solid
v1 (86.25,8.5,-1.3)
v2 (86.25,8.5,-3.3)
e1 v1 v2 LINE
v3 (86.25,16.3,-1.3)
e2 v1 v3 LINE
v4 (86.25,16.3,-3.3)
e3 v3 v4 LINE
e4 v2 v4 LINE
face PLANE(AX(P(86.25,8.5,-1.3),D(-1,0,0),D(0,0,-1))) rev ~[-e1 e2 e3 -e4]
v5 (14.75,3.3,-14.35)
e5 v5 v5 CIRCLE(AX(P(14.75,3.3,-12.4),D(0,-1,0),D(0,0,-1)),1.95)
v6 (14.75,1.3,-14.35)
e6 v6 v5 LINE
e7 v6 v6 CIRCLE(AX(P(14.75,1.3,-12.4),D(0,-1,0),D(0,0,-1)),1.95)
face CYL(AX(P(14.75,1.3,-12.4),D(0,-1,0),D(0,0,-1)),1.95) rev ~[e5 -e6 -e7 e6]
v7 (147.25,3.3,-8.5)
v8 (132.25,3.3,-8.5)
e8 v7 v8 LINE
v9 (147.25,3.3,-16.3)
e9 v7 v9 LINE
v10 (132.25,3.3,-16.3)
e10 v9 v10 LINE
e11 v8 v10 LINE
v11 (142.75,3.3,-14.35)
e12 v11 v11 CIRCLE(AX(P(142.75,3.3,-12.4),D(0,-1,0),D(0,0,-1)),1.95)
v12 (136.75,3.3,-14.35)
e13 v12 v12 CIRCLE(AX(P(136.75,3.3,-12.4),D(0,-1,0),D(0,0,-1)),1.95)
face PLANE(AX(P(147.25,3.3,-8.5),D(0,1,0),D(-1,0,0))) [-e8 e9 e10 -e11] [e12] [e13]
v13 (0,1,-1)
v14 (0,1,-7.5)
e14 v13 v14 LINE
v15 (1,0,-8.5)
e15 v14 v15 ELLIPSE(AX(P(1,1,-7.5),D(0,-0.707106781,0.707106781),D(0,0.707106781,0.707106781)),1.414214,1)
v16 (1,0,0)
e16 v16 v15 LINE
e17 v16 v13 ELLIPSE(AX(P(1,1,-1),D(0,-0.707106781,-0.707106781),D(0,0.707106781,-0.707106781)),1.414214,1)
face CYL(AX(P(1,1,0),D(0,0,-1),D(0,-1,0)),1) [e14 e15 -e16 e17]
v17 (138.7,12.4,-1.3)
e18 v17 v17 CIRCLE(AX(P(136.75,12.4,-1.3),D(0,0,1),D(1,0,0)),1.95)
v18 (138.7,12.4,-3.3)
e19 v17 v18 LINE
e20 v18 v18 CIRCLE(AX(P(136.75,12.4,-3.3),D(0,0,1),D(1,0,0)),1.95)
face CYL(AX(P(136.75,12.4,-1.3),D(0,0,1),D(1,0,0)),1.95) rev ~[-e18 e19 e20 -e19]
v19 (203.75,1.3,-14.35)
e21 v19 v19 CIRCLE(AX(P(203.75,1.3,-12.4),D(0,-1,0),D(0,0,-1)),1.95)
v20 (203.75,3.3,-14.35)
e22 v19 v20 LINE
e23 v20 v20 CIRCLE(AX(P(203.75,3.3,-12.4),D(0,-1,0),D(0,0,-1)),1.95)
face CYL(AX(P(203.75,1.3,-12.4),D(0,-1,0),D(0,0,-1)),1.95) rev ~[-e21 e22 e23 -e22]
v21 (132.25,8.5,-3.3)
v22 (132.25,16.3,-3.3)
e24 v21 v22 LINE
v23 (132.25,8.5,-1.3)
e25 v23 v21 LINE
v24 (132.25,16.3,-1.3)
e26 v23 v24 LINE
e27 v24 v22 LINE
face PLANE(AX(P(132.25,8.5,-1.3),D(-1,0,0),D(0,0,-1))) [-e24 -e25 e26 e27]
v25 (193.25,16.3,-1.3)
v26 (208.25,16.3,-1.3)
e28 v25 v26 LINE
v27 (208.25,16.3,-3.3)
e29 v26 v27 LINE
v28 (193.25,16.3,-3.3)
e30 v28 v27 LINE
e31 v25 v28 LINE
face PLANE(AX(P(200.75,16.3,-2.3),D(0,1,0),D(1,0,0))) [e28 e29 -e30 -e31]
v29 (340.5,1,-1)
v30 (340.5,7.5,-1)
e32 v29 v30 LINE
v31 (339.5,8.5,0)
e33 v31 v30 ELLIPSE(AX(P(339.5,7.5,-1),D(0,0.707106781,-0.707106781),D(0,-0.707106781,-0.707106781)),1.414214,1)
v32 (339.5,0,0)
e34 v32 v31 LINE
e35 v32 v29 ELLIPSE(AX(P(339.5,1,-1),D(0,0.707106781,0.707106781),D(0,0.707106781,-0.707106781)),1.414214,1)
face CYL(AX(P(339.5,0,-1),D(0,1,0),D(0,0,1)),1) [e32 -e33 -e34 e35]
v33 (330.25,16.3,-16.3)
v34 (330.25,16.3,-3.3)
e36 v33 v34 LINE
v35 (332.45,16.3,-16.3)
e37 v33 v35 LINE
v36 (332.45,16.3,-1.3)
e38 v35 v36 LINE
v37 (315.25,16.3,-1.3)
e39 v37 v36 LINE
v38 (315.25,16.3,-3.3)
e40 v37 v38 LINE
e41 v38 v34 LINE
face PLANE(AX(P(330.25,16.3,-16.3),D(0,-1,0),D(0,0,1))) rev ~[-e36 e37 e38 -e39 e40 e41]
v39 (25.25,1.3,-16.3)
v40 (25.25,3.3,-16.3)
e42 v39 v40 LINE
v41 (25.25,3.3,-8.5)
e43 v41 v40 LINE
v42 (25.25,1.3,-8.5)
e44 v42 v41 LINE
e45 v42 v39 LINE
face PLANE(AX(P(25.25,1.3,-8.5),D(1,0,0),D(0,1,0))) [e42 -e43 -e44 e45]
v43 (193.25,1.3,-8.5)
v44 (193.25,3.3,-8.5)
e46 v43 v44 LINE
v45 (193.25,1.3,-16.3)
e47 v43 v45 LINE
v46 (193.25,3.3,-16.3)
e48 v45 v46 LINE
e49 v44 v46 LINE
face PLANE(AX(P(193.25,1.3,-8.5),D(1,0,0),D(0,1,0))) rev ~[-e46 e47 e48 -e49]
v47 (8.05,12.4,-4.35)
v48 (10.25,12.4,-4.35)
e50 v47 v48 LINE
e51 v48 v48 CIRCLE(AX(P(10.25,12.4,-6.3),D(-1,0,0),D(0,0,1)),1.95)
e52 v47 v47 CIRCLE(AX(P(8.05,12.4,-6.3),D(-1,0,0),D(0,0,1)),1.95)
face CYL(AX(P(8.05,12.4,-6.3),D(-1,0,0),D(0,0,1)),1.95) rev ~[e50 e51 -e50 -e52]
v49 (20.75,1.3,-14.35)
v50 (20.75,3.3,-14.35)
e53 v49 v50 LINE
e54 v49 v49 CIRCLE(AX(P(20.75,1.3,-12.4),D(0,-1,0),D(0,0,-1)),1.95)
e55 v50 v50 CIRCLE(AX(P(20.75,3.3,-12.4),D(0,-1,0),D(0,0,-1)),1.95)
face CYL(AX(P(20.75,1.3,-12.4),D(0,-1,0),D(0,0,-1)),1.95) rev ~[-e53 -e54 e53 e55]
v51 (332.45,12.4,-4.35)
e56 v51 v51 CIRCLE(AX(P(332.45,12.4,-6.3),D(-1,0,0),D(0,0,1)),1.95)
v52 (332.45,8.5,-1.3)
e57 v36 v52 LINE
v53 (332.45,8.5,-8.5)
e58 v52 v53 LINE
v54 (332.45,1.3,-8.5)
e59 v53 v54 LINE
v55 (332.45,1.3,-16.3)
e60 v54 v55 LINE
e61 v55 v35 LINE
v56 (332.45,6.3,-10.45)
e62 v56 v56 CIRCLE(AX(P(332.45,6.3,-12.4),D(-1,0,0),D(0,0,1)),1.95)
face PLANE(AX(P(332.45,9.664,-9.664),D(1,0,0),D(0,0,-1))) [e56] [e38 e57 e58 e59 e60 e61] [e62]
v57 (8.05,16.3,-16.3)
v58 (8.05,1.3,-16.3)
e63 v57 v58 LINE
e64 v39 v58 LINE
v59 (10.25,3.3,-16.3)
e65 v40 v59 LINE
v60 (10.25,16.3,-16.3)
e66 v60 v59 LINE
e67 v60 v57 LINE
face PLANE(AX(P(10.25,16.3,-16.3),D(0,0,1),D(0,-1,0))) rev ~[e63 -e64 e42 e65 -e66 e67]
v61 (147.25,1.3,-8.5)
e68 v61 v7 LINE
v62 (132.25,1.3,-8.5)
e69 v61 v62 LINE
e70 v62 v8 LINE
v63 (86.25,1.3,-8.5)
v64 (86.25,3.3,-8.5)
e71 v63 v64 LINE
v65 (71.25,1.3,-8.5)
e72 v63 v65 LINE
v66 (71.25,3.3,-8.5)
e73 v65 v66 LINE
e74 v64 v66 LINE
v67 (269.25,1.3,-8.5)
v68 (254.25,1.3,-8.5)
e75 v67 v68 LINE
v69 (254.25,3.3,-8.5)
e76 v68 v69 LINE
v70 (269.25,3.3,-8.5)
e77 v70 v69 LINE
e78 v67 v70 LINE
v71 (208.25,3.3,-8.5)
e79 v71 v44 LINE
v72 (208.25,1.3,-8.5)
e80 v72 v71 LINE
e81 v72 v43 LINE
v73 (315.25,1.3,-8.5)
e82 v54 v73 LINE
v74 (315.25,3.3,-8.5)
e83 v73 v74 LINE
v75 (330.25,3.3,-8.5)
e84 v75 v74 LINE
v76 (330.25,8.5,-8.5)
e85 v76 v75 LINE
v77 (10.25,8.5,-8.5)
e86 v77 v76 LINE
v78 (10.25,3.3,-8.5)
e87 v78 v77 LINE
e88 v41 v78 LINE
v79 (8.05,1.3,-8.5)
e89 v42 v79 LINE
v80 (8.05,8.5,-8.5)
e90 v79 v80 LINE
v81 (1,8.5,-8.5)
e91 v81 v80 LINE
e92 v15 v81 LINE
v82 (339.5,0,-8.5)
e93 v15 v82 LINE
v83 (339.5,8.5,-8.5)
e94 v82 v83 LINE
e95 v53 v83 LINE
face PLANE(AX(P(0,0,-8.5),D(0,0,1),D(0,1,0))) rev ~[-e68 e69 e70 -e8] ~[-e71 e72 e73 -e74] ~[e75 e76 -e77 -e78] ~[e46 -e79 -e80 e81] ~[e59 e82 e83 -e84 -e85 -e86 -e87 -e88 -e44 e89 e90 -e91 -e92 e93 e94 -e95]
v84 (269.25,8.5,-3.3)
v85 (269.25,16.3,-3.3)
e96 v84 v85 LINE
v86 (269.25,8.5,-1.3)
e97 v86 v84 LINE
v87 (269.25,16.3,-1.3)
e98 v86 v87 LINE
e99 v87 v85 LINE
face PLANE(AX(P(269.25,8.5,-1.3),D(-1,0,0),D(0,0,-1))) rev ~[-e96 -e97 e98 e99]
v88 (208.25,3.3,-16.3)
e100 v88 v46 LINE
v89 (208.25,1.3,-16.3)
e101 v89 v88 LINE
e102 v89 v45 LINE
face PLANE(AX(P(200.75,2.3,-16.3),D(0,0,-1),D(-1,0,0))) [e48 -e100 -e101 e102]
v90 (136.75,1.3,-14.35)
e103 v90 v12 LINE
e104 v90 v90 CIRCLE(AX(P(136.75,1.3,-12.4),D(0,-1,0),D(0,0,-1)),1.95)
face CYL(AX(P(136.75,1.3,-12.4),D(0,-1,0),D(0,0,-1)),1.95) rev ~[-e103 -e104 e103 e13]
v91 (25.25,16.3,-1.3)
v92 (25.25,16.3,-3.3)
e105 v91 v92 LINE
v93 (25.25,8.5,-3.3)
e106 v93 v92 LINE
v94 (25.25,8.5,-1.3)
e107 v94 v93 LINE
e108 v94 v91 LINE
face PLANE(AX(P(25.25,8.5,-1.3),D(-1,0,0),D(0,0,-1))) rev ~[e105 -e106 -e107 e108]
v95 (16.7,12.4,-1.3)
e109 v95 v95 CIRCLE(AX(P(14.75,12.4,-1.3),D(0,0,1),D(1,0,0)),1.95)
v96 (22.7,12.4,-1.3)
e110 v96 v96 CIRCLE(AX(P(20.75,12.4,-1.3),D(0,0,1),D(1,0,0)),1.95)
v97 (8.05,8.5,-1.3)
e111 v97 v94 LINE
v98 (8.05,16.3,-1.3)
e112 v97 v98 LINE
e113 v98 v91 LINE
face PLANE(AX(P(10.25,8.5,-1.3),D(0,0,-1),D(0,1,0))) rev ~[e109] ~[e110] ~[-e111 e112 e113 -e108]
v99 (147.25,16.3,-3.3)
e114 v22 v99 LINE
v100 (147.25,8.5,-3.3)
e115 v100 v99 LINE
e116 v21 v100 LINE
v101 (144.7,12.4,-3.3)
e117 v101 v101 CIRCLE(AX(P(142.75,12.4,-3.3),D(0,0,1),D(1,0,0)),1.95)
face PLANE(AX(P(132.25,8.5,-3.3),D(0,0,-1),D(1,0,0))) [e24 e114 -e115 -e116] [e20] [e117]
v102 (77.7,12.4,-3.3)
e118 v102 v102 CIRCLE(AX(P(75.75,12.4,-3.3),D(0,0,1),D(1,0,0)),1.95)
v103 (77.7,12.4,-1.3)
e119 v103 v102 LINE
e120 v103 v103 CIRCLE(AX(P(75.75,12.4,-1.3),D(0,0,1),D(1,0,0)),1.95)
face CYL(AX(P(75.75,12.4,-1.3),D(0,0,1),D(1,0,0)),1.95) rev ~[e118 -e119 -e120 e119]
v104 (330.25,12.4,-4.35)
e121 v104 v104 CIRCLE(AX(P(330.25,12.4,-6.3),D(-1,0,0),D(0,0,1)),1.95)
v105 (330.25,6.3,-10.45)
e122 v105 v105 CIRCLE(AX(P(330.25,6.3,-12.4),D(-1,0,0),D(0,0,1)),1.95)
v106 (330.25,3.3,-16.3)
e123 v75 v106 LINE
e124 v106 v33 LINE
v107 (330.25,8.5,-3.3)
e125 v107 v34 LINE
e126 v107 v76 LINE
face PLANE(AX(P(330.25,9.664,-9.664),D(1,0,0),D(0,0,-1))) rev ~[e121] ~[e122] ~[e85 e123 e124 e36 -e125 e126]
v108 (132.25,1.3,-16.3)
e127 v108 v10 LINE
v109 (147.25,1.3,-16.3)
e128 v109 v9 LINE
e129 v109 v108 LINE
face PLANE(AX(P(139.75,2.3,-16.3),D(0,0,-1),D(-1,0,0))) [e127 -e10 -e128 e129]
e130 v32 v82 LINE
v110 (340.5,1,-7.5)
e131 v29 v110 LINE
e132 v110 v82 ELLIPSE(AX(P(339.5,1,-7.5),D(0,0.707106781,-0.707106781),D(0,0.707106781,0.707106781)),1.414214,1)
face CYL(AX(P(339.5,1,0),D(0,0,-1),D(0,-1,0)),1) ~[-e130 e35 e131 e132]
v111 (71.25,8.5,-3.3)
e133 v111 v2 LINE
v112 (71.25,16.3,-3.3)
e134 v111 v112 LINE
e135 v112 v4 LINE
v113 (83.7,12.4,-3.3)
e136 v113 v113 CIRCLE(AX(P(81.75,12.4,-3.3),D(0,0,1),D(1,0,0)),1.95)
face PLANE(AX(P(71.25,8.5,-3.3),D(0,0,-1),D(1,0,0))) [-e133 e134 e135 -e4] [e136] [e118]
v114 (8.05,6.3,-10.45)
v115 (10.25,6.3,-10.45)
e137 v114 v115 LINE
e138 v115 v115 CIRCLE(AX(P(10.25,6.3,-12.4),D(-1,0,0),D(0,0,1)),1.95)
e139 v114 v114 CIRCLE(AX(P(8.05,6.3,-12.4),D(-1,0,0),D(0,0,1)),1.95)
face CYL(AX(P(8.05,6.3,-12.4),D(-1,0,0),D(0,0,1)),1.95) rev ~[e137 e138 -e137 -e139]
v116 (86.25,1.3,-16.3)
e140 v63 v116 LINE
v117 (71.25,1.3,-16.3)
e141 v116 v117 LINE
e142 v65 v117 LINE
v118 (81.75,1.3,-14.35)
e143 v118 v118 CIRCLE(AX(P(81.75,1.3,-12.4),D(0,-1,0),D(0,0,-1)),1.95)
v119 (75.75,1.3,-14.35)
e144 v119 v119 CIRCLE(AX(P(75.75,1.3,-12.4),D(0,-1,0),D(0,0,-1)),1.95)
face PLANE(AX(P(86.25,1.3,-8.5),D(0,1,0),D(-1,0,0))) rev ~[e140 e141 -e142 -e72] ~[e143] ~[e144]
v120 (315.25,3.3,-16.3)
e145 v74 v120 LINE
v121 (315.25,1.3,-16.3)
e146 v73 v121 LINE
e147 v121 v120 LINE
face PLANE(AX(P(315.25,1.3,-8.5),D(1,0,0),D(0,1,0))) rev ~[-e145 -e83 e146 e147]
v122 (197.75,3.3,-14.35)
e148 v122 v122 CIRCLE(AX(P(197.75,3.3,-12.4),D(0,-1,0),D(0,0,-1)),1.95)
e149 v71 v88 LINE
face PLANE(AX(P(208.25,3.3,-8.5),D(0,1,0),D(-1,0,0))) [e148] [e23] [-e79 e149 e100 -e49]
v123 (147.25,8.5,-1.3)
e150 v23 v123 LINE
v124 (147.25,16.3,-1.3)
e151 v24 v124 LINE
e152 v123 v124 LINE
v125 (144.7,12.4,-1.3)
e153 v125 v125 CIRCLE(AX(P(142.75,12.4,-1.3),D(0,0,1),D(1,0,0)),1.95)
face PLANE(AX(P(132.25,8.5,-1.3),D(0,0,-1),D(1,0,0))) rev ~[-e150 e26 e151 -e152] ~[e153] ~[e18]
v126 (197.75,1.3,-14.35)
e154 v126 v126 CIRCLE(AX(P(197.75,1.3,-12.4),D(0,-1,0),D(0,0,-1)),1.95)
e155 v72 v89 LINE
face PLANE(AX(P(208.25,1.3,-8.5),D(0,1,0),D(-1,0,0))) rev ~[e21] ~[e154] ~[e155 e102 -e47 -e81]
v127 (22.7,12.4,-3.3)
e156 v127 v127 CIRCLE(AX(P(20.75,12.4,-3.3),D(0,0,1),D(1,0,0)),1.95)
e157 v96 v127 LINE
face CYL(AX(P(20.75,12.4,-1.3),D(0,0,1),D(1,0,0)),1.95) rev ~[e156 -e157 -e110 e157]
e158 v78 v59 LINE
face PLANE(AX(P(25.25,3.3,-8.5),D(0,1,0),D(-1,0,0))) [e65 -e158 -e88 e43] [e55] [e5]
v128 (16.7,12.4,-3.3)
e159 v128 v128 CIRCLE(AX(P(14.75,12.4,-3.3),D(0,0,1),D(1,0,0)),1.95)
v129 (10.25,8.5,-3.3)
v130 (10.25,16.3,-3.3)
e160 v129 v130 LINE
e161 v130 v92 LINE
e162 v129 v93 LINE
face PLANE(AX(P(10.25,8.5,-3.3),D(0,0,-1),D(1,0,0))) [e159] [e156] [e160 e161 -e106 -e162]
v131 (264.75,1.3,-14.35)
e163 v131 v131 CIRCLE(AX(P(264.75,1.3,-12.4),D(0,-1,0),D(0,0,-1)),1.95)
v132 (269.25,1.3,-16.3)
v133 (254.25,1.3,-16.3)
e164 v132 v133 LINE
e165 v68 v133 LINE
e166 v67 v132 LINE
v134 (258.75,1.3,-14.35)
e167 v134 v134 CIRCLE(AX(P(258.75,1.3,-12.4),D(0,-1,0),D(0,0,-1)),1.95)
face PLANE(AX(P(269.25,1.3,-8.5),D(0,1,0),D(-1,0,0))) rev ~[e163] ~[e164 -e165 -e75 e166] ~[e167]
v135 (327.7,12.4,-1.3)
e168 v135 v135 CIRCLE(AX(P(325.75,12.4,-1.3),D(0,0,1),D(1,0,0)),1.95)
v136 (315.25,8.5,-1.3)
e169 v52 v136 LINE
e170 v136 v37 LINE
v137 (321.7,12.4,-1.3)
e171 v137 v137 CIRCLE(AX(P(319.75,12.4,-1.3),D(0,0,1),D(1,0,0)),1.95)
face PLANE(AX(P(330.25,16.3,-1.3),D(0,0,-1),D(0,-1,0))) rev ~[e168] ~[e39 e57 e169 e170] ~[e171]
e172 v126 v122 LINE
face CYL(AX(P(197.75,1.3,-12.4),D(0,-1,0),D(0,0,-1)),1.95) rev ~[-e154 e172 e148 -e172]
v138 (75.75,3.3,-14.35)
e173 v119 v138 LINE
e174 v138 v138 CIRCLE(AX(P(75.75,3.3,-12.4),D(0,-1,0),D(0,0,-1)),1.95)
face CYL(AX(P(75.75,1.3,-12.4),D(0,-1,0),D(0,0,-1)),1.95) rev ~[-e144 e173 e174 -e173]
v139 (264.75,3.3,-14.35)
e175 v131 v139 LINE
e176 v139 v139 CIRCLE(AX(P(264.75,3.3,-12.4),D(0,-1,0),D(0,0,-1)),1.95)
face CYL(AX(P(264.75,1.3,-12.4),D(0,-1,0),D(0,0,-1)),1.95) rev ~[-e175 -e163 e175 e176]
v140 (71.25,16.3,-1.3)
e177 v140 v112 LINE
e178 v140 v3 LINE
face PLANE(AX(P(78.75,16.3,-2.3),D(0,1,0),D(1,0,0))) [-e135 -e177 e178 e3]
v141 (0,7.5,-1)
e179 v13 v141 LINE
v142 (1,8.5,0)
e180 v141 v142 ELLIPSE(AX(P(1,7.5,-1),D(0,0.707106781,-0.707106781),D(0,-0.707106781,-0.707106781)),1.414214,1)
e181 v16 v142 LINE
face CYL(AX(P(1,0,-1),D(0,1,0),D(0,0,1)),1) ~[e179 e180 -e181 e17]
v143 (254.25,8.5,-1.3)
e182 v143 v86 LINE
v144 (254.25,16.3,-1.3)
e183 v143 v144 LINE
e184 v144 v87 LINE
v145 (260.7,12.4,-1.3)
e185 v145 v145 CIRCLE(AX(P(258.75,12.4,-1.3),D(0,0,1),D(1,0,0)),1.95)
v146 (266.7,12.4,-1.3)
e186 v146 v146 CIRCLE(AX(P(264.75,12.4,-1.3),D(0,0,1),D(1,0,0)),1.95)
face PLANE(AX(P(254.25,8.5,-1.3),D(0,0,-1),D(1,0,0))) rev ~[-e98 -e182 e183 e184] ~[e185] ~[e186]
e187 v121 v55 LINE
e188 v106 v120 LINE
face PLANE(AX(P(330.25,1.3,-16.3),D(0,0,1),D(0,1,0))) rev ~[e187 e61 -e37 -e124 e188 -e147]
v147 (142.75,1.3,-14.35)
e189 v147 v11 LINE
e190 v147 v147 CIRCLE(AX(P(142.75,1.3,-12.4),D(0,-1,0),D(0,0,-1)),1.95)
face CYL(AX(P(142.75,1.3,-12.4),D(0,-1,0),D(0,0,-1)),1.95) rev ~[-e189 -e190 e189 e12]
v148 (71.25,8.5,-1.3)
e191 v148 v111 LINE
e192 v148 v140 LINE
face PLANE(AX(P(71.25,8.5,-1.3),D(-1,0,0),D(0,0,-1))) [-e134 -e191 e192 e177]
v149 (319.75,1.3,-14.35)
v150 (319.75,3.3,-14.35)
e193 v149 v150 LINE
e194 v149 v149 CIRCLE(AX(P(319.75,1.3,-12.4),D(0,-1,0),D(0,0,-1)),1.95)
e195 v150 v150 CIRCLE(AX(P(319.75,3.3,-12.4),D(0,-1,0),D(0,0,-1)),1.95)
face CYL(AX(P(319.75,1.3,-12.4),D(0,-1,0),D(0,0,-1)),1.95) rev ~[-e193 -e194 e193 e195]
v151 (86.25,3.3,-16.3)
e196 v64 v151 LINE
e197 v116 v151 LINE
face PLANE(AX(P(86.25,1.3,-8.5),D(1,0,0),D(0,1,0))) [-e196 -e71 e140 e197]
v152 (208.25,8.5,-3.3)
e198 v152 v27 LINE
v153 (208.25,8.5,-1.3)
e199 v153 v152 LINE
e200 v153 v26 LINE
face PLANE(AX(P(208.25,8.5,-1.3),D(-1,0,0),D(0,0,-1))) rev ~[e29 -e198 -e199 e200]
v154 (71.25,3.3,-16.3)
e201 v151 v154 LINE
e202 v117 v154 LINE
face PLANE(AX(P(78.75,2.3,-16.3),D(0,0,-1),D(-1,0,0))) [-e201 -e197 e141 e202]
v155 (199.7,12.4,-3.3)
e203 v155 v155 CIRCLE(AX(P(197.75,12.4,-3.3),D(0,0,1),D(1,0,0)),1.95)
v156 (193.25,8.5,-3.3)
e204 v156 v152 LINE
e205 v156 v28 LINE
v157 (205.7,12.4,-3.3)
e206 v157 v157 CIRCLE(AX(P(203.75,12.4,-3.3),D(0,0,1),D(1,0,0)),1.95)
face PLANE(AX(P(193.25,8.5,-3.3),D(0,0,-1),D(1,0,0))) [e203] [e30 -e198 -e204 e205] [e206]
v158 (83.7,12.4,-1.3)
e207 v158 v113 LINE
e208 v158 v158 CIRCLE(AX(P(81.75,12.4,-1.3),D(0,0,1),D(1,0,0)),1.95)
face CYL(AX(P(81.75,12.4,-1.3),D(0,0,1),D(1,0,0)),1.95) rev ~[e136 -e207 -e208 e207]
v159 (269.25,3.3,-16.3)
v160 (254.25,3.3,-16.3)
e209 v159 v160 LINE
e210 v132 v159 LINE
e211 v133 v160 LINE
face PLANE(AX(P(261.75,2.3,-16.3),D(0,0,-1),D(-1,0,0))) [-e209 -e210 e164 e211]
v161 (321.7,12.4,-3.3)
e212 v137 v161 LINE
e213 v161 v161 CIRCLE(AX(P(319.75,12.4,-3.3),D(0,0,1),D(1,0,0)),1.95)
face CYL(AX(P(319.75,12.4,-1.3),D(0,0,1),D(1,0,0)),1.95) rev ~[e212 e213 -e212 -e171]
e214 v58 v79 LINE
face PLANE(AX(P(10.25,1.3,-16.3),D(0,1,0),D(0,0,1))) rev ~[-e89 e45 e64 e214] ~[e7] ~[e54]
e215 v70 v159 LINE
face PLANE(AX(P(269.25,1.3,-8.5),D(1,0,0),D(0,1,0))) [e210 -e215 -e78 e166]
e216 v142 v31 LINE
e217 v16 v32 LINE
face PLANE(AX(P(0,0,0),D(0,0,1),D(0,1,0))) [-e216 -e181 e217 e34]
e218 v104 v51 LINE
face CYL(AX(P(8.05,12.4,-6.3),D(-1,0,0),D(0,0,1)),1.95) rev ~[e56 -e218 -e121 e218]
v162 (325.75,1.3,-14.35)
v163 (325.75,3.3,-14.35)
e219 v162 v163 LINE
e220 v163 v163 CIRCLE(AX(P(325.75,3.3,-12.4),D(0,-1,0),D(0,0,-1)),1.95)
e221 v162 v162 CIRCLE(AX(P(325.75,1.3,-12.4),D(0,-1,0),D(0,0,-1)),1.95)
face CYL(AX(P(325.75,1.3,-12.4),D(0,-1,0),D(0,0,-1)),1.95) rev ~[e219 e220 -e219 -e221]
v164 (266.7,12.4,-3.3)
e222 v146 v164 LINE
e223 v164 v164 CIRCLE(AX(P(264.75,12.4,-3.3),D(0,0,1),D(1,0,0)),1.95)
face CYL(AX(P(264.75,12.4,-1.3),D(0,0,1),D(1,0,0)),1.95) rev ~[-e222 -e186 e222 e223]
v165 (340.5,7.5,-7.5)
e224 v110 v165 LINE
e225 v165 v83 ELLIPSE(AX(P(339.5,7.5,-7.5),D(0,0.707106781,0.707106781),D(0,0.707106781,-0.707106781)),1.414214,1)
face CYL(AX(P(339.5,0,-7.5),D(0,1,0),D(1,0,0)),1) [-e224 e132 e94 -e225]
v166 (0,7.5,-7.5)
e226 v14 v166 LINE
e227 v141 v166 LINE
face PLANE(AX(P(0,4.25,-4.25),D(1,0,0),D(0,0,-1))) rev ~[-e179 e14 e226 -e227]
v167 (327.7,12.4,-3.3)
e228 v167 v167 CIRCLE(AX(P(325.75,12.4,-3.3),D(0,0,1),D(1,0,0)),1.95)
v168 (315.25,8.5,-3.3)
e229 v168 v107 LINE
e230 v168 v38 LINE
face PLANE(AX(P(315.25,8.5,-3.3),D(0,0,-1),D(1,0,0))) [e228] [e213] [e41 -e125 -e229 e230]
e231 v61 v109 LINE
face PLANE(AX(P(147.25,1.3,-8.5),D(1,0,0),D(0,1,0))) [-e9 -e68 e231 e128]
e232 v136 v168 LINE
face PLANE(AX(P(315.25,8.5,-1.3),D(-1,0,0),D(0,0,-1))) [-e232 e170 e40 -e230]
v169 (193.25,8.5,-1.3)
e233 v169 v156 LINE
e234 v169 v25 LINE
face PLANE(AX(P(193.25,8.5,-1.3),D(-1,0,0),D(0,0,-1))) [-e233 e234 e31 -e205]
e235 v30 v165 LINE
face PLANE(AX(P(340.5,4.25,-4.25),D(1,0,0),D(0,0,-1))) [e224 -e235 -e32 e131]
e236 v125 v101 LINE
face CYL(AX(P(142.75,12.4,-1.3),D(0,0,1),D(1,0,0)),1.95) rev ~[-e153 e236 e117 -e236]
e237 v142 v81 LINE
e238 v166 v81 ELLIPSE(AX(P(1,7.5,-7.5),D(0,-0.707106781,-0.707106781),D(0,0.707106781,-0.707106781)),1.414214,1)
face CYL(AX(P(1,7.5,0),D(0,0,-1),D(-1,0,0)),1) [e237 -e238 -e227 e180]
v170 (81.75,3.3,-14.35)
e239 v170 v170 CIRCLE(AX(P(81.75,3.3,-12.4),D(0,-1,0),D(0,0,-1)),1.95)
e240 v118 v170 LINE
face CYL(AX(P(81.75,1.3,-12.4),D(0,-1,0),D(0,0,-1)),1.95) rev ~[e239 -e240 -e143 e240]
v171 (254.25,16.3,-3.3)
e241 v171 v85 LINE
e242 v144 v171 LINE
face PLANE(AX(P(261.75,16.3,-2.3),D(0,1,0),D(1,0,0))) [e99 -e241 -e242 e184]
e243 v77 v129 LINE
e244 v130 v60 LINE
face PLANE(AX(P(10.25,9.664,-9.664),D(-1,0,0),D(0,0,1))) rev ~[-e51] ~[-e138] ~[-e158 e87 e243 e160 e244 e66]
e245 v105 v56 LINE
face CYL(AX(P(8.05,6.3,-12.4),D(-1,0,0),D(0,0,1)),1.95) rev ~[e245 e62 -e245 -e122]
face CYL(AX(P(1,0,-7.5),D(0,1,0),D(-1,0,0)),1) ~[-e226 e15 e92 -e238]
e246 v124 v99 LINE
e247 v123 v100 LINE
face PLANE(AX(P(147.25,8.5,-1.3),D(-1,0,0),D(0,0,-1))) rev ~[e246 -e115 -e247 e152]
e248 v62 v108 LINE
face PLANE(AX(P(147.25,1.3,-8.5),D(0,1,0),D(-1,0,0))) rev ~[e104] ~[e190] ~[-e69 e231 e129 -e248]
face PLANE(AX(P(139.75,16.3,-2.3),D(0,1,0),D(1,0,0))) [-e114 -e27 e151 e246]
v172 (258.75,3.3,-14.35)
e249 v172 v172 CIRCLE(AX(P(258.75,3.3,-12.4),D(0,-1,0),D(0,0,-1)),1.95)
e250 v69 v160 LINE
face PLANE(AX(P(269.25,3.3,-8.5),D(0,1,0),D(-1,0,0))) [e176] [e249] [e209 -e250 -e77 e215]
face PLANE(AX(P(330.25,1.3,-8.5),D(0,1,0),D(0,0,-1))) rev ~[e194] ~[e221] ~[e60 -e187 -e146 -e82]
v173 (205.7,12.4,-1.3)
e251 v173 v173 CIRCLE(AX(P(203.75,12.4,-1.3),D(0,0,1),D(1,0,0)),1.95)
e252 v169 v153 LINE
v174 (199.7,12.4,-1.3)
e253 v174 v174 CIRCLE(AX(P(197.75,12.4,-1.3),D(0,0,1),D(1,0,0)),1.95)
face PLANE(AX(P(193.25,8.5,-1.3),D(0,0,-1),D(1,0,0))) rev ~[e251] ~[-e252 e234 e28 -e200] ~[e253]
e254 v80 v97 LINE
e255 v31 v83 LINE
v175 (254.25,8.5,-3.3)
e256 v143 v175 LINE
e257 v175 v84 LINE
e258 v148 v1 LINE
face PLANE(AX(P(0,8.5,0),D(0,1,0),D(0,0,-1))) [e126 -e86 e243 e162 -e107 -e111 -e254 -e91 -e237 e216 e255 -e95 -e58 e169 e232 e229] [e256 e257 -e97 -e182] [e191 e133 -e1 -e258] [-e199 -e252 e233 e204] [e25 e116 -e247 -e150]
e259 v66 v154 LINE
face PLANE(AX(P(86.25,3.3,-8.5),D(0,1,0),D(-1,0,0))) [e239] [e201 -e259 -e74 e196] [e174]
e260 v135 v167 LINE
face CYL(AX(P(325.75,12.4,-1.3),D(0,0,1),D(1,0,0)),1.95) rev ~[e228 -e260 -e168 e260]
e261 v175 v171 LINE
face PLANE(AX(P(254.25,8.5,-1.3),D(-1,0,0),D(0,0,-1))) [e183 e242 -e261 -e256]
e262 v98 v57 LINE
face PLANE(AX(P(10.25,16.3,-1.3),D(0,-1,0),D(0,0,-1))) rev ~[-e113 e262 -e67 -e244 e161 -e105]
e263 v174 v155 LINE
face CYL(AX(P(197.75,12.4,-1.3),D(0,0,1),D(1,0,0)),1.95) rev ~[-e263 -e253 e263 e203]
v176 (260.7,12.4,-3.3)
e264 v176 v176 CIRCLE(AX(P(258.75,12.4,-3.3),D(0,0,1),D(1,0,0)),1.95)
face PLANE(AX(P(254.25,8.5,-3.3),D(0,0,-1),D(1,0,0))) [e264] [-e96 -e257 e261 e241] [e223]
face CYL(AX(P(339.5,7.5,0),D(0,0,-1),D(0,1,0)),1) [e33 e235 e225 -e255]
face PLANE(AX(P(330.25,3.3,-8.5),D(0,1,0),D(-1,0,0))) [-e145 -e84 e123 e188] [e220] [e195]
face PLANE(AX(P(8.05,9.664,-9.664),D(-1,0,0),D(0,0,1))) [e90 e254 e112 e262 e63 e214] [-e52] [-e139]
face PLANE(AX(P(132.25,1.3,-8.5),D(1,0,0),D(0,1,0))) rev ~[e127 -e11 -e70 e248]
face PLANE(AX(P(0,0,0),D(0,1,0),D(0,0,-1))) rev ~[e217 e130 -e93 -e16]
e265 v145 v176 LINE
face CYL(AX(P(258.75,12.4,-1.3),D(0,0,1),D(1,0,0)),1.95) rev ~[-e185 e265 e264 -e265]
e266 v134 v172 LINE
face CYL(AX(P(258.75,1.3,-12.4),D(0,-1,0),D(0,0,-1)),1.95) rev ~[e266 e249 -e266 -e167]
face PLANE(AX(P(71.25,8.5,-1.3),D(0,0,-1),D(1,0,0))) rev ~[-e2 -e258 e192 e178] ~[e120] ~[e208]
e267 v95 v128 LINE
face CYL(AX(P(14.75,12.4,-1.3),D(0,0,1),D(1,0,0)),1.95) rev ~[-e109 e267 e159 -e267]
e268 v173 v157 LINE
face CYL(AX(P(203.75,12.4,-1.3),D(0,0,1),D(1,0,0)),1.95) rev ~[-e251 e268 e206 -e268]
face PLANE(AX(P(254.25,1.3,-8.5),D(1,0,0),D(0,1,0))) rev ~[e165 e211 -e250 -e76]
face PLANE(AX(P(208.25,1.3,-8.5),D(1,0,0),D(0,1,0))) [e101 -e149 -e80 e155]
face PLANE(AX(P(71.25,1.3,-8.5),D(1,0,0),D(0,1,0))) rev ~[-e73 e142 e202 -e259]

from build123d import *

# Parameters (mm, degrees)
SKETCH1_W           = 8.5
SKETCH1_H           = 8.5
BOSS_EXTRUDE1_DEPTH = 340.5
SKETCH2_W           = 15
SKETCH2_H           = 2
BOSS_EXTRUDE2_DEPTH = 7.8
SKETCH3_R           = 1.95
CUT_EXTRUDE1_DEPTH  = 7.8
SKETCH4_W           = 15
SKETCH4_H           = 2
BOSS_EXTRUDE3_DEPTH = 7.8
SKETCH5_R           = 1.95
CUT_EXTRUDE2_DEPTH  = 7.8
FILLET1_R           = 1
FILLET3_R           = 1
BOSS_EXTRUDE5_DEPTH = 2.2
BOSS_EXTRUDE6_DEPTH = 2.2
SKETCH9_R           = 1.95
CUT_EXTRUDE3_DEPTH  = 350


with BuildPart() as part:
    # Sketch1 → Boss-Extrude1 (new body)
    with BuildSketch(Plane(origin=(0, 0, 0), x_dir=(0, 0, -1), z_dir=(1, 0, 0))):
        with Locations((4.25, 4.25)):
            Rectangle(SKETCH1_W, SKETCH1_H)
    extrude(amount=BOSS_EXTRUDE1_DEPTH)

    # Sketch2 → Boss-Extrude2 (add)
    with BuildSketch(Plane(origin=(0, 8.5, 0), x_dir=(1, 0, 0), z_dir=(0, 1, 0))):
        with Locations((17.75, 2.3)):
            Rectangle(SKETCH2_W, SKETCH2_H)
        with Locations((78.75, 2.3)):
            Rectangle(SKETCH2_W, SKETCH2_H)
        with Locations((139.75, 2.3)):
            Rectangle(SKETCH2_W, SKETCH2_H)
        with Locations((200.75, 2.3)):
            Rectangle(SKETCH2_W, SKETCH2_H)
        with Locations((261.75, 2.3)):
            Rectangle(SKETCH2_W, SKETCH2_H)
        with Locations((322.75, 2.3)):
            Rectangle(SKETCH2_W, SKETCH2_H)
    extrude(amount=BOSS_EXTRUDE2_DEPTH)

    # Sketch3 → Cut-Extrude1 (cut)
    with BuildSketch(Plane.XY.offset(-1.3)):
        with Locations((14.75, 12.4)):
            Circle(SKETCH3_R)
        with Locations((20.75, 12.4)):
            Circle(SKETCH3_R)
        with Locations((75.75, 12.4)):
            Circle(SKETCH3_R)
        with Locations((81.75, 12.4)):
            Circle(SKETCH3_R)
        with Locations((136.75, 12.4)):
            Circle(SKETCH3_R)
        with Locations((142.75, 12.4)):
            Circle(SKETCH3_R)
        with Locations((197.75, 12.4)):
            Circle(SKETCH3_R)
        with Locations((203.75, 12.4)):
            Circle(SKETCH3_R)
        with Locations((258.75, 12.4)):
            Circle(SKETCH3_R)
        with Locations((264.75, 12.4)):
            Circle(SKETCH3_R)
        with Locations((319.75, 12.4)):
            Circle(SKETCH3_R)
        with Locations((325.75, 12.4)):
            Circle(SKETCH3_R)
    extrude(amount=-CUT_EXTRUDE1_DEPTH, mode=Mode.SUBTRACT)

    # Sketch4 → Boss-Extrude3 (add)
    with BuildSketch(Plane(origin=(0, 0, -8.5), x_dir=(-1, 0, 0), z_dir=(0, 0, -1))):
        with Locations((-261.75, 2.3)):
            Rectangle(SKETCH4_W, SKETCH4_H)
        with Locations((-322.75, 2.3)):
            Rectangle(SKETCH4_W, SKETCH4_H)
        with Locations((-200.75, 2.3)):
            Rectangle(SKETCH4_W, SKETCH4_H)
        with Locations((-139.75, 2.3)):
            Rectangle(SKETCH4_W, SKETCH4_H)
        with Locations((-78.75, 2.3)):
            Rectangle(SKETCH4_W, SKETCH4_H)
        with Locations((-17.75, 2.3)):
            Rectangle(SKETCH4_W, SKETCH4_H)
    extrude(amount=BOSS_EXTRUDE3_DEPTH)

    # Sketch5 → Cut-Extrude2 (cut)
    with BuildSketch(Plane.XZ.offset(-1.3)):
        with Locations(Location((264.75, -12.4, 0), (0, 0, 270))):
            Circle(SKETCH5_R)
        with Locations(Location((258.75, -12.4, 0), (0, 0, 270))):
            Circle(SKETCH5_R)
        with Locations(Location((203.75, -12.4, 0), (0, 0, 270))):
            Circle(SKETCH5_R)
        with Locations(Location((197.75, -12.4, 0), (0, 0, 270))):
            Circle(SKETCH5_R)
        with Locations(Location((142.75, -12.4, 0), (0, 0, 270))):
            Circle(SKETCH5_R)
        with Locations(Location((136.75, -12.4, 0), (0, 0, 270))):
            Circle(SKETCH5_R)
        with Locations(Location((20.75, -12.4, 0), (0, 0, 270))):
            Circle(SKETCH5_R)
        with Locations(Location((14.75, -12.4, 0), (0, 0, 270))):
            Circle(SKETCH5_R)
        with Locations(Location((81.75, -12.4, 0), (0, 0, 270))):
            Circle(SKETCH5_R)
        with Locations(Location((75.75, -12.4, 0), (0, 0, 270))):
            Circle(SKETCH5_R)
        with Locations(Location((325.75, -12.4, 0), (0, 0, 270))):
            Circle(SKETCH5_R)
        with Locations(Location((319.75, -12.4, 0), (0, 0, 270))):
            Circle(SKETCH5_R)
    extrude(amount=-CUT_EXTRUDE2_DEPTH, mode=Mode.SUBTRACT)

    # Fillet1
    fillet1_edges = [part.edges().sort_by_distance(p)[0] for p in [
        (340.5, 4.25, -8.5),
        (340.5, 8.5, -4.25),
        (340.5, 4.25, 0),
        (340.5, 0, -4.25),
    ]]
    fillet(fillet1_edges, radius=FILLET1_R)

    # Fillet3
    fillet3_edges = [part.edges().sort_by_distance(p)[0] for p in [
        (0, 8.5, -4.25),
        (0, 4.25, -8.5),
        (0, 0, -4.25),
        (0, 4.25, 0),
    ]]
    fillet(fillet3_edges, radius=FILLET3_R)

    # Sketch7 → Boss-Extrude5 (add)
    with BuildSketch(Plane(origin=(330.25, 0, 0), x_dir=(0, 0, -1), z_dir=(1, 0, 0))):
        Polygon((1.3, 8.5), (8.5, 8.5), (8.5, 1.3), (16.3, 1.3), (16.3, 16.3), (1.3, 16.3), align=None)
    extrude(amount=BOSS_EXTRUDE5_DEPTH)

    # Sketch8 → Boss-Extrude6 (add)
    with BuildSketch(Plane.ZY.offset(-10.25)):
        Polygon((-1.3, 16.3), (-16.3, 16.3), (-16.3, 1.3), (-8.5, 1.3), (-8.5, 8.5), (-1.3, 8.5), align=None)
    extrude(amount=BOSS_EXTRUDE6_DEPTH)

    # Sketch9 → Cut-Extrude3 (cut)
    with BuildSketch(Plane.ZY.offset(-8.05)):
        with Locations((-12.4, 6.3)):
            Circle(SKETCH9_R)
        with Locations((-6.3, 12.4)):
            Circle(SKETCH9_R)
    extrude(amount=-CUT_EXTRUDE3_DEPTH, mode=Mode.SUBTRACT)


solid = part.part
